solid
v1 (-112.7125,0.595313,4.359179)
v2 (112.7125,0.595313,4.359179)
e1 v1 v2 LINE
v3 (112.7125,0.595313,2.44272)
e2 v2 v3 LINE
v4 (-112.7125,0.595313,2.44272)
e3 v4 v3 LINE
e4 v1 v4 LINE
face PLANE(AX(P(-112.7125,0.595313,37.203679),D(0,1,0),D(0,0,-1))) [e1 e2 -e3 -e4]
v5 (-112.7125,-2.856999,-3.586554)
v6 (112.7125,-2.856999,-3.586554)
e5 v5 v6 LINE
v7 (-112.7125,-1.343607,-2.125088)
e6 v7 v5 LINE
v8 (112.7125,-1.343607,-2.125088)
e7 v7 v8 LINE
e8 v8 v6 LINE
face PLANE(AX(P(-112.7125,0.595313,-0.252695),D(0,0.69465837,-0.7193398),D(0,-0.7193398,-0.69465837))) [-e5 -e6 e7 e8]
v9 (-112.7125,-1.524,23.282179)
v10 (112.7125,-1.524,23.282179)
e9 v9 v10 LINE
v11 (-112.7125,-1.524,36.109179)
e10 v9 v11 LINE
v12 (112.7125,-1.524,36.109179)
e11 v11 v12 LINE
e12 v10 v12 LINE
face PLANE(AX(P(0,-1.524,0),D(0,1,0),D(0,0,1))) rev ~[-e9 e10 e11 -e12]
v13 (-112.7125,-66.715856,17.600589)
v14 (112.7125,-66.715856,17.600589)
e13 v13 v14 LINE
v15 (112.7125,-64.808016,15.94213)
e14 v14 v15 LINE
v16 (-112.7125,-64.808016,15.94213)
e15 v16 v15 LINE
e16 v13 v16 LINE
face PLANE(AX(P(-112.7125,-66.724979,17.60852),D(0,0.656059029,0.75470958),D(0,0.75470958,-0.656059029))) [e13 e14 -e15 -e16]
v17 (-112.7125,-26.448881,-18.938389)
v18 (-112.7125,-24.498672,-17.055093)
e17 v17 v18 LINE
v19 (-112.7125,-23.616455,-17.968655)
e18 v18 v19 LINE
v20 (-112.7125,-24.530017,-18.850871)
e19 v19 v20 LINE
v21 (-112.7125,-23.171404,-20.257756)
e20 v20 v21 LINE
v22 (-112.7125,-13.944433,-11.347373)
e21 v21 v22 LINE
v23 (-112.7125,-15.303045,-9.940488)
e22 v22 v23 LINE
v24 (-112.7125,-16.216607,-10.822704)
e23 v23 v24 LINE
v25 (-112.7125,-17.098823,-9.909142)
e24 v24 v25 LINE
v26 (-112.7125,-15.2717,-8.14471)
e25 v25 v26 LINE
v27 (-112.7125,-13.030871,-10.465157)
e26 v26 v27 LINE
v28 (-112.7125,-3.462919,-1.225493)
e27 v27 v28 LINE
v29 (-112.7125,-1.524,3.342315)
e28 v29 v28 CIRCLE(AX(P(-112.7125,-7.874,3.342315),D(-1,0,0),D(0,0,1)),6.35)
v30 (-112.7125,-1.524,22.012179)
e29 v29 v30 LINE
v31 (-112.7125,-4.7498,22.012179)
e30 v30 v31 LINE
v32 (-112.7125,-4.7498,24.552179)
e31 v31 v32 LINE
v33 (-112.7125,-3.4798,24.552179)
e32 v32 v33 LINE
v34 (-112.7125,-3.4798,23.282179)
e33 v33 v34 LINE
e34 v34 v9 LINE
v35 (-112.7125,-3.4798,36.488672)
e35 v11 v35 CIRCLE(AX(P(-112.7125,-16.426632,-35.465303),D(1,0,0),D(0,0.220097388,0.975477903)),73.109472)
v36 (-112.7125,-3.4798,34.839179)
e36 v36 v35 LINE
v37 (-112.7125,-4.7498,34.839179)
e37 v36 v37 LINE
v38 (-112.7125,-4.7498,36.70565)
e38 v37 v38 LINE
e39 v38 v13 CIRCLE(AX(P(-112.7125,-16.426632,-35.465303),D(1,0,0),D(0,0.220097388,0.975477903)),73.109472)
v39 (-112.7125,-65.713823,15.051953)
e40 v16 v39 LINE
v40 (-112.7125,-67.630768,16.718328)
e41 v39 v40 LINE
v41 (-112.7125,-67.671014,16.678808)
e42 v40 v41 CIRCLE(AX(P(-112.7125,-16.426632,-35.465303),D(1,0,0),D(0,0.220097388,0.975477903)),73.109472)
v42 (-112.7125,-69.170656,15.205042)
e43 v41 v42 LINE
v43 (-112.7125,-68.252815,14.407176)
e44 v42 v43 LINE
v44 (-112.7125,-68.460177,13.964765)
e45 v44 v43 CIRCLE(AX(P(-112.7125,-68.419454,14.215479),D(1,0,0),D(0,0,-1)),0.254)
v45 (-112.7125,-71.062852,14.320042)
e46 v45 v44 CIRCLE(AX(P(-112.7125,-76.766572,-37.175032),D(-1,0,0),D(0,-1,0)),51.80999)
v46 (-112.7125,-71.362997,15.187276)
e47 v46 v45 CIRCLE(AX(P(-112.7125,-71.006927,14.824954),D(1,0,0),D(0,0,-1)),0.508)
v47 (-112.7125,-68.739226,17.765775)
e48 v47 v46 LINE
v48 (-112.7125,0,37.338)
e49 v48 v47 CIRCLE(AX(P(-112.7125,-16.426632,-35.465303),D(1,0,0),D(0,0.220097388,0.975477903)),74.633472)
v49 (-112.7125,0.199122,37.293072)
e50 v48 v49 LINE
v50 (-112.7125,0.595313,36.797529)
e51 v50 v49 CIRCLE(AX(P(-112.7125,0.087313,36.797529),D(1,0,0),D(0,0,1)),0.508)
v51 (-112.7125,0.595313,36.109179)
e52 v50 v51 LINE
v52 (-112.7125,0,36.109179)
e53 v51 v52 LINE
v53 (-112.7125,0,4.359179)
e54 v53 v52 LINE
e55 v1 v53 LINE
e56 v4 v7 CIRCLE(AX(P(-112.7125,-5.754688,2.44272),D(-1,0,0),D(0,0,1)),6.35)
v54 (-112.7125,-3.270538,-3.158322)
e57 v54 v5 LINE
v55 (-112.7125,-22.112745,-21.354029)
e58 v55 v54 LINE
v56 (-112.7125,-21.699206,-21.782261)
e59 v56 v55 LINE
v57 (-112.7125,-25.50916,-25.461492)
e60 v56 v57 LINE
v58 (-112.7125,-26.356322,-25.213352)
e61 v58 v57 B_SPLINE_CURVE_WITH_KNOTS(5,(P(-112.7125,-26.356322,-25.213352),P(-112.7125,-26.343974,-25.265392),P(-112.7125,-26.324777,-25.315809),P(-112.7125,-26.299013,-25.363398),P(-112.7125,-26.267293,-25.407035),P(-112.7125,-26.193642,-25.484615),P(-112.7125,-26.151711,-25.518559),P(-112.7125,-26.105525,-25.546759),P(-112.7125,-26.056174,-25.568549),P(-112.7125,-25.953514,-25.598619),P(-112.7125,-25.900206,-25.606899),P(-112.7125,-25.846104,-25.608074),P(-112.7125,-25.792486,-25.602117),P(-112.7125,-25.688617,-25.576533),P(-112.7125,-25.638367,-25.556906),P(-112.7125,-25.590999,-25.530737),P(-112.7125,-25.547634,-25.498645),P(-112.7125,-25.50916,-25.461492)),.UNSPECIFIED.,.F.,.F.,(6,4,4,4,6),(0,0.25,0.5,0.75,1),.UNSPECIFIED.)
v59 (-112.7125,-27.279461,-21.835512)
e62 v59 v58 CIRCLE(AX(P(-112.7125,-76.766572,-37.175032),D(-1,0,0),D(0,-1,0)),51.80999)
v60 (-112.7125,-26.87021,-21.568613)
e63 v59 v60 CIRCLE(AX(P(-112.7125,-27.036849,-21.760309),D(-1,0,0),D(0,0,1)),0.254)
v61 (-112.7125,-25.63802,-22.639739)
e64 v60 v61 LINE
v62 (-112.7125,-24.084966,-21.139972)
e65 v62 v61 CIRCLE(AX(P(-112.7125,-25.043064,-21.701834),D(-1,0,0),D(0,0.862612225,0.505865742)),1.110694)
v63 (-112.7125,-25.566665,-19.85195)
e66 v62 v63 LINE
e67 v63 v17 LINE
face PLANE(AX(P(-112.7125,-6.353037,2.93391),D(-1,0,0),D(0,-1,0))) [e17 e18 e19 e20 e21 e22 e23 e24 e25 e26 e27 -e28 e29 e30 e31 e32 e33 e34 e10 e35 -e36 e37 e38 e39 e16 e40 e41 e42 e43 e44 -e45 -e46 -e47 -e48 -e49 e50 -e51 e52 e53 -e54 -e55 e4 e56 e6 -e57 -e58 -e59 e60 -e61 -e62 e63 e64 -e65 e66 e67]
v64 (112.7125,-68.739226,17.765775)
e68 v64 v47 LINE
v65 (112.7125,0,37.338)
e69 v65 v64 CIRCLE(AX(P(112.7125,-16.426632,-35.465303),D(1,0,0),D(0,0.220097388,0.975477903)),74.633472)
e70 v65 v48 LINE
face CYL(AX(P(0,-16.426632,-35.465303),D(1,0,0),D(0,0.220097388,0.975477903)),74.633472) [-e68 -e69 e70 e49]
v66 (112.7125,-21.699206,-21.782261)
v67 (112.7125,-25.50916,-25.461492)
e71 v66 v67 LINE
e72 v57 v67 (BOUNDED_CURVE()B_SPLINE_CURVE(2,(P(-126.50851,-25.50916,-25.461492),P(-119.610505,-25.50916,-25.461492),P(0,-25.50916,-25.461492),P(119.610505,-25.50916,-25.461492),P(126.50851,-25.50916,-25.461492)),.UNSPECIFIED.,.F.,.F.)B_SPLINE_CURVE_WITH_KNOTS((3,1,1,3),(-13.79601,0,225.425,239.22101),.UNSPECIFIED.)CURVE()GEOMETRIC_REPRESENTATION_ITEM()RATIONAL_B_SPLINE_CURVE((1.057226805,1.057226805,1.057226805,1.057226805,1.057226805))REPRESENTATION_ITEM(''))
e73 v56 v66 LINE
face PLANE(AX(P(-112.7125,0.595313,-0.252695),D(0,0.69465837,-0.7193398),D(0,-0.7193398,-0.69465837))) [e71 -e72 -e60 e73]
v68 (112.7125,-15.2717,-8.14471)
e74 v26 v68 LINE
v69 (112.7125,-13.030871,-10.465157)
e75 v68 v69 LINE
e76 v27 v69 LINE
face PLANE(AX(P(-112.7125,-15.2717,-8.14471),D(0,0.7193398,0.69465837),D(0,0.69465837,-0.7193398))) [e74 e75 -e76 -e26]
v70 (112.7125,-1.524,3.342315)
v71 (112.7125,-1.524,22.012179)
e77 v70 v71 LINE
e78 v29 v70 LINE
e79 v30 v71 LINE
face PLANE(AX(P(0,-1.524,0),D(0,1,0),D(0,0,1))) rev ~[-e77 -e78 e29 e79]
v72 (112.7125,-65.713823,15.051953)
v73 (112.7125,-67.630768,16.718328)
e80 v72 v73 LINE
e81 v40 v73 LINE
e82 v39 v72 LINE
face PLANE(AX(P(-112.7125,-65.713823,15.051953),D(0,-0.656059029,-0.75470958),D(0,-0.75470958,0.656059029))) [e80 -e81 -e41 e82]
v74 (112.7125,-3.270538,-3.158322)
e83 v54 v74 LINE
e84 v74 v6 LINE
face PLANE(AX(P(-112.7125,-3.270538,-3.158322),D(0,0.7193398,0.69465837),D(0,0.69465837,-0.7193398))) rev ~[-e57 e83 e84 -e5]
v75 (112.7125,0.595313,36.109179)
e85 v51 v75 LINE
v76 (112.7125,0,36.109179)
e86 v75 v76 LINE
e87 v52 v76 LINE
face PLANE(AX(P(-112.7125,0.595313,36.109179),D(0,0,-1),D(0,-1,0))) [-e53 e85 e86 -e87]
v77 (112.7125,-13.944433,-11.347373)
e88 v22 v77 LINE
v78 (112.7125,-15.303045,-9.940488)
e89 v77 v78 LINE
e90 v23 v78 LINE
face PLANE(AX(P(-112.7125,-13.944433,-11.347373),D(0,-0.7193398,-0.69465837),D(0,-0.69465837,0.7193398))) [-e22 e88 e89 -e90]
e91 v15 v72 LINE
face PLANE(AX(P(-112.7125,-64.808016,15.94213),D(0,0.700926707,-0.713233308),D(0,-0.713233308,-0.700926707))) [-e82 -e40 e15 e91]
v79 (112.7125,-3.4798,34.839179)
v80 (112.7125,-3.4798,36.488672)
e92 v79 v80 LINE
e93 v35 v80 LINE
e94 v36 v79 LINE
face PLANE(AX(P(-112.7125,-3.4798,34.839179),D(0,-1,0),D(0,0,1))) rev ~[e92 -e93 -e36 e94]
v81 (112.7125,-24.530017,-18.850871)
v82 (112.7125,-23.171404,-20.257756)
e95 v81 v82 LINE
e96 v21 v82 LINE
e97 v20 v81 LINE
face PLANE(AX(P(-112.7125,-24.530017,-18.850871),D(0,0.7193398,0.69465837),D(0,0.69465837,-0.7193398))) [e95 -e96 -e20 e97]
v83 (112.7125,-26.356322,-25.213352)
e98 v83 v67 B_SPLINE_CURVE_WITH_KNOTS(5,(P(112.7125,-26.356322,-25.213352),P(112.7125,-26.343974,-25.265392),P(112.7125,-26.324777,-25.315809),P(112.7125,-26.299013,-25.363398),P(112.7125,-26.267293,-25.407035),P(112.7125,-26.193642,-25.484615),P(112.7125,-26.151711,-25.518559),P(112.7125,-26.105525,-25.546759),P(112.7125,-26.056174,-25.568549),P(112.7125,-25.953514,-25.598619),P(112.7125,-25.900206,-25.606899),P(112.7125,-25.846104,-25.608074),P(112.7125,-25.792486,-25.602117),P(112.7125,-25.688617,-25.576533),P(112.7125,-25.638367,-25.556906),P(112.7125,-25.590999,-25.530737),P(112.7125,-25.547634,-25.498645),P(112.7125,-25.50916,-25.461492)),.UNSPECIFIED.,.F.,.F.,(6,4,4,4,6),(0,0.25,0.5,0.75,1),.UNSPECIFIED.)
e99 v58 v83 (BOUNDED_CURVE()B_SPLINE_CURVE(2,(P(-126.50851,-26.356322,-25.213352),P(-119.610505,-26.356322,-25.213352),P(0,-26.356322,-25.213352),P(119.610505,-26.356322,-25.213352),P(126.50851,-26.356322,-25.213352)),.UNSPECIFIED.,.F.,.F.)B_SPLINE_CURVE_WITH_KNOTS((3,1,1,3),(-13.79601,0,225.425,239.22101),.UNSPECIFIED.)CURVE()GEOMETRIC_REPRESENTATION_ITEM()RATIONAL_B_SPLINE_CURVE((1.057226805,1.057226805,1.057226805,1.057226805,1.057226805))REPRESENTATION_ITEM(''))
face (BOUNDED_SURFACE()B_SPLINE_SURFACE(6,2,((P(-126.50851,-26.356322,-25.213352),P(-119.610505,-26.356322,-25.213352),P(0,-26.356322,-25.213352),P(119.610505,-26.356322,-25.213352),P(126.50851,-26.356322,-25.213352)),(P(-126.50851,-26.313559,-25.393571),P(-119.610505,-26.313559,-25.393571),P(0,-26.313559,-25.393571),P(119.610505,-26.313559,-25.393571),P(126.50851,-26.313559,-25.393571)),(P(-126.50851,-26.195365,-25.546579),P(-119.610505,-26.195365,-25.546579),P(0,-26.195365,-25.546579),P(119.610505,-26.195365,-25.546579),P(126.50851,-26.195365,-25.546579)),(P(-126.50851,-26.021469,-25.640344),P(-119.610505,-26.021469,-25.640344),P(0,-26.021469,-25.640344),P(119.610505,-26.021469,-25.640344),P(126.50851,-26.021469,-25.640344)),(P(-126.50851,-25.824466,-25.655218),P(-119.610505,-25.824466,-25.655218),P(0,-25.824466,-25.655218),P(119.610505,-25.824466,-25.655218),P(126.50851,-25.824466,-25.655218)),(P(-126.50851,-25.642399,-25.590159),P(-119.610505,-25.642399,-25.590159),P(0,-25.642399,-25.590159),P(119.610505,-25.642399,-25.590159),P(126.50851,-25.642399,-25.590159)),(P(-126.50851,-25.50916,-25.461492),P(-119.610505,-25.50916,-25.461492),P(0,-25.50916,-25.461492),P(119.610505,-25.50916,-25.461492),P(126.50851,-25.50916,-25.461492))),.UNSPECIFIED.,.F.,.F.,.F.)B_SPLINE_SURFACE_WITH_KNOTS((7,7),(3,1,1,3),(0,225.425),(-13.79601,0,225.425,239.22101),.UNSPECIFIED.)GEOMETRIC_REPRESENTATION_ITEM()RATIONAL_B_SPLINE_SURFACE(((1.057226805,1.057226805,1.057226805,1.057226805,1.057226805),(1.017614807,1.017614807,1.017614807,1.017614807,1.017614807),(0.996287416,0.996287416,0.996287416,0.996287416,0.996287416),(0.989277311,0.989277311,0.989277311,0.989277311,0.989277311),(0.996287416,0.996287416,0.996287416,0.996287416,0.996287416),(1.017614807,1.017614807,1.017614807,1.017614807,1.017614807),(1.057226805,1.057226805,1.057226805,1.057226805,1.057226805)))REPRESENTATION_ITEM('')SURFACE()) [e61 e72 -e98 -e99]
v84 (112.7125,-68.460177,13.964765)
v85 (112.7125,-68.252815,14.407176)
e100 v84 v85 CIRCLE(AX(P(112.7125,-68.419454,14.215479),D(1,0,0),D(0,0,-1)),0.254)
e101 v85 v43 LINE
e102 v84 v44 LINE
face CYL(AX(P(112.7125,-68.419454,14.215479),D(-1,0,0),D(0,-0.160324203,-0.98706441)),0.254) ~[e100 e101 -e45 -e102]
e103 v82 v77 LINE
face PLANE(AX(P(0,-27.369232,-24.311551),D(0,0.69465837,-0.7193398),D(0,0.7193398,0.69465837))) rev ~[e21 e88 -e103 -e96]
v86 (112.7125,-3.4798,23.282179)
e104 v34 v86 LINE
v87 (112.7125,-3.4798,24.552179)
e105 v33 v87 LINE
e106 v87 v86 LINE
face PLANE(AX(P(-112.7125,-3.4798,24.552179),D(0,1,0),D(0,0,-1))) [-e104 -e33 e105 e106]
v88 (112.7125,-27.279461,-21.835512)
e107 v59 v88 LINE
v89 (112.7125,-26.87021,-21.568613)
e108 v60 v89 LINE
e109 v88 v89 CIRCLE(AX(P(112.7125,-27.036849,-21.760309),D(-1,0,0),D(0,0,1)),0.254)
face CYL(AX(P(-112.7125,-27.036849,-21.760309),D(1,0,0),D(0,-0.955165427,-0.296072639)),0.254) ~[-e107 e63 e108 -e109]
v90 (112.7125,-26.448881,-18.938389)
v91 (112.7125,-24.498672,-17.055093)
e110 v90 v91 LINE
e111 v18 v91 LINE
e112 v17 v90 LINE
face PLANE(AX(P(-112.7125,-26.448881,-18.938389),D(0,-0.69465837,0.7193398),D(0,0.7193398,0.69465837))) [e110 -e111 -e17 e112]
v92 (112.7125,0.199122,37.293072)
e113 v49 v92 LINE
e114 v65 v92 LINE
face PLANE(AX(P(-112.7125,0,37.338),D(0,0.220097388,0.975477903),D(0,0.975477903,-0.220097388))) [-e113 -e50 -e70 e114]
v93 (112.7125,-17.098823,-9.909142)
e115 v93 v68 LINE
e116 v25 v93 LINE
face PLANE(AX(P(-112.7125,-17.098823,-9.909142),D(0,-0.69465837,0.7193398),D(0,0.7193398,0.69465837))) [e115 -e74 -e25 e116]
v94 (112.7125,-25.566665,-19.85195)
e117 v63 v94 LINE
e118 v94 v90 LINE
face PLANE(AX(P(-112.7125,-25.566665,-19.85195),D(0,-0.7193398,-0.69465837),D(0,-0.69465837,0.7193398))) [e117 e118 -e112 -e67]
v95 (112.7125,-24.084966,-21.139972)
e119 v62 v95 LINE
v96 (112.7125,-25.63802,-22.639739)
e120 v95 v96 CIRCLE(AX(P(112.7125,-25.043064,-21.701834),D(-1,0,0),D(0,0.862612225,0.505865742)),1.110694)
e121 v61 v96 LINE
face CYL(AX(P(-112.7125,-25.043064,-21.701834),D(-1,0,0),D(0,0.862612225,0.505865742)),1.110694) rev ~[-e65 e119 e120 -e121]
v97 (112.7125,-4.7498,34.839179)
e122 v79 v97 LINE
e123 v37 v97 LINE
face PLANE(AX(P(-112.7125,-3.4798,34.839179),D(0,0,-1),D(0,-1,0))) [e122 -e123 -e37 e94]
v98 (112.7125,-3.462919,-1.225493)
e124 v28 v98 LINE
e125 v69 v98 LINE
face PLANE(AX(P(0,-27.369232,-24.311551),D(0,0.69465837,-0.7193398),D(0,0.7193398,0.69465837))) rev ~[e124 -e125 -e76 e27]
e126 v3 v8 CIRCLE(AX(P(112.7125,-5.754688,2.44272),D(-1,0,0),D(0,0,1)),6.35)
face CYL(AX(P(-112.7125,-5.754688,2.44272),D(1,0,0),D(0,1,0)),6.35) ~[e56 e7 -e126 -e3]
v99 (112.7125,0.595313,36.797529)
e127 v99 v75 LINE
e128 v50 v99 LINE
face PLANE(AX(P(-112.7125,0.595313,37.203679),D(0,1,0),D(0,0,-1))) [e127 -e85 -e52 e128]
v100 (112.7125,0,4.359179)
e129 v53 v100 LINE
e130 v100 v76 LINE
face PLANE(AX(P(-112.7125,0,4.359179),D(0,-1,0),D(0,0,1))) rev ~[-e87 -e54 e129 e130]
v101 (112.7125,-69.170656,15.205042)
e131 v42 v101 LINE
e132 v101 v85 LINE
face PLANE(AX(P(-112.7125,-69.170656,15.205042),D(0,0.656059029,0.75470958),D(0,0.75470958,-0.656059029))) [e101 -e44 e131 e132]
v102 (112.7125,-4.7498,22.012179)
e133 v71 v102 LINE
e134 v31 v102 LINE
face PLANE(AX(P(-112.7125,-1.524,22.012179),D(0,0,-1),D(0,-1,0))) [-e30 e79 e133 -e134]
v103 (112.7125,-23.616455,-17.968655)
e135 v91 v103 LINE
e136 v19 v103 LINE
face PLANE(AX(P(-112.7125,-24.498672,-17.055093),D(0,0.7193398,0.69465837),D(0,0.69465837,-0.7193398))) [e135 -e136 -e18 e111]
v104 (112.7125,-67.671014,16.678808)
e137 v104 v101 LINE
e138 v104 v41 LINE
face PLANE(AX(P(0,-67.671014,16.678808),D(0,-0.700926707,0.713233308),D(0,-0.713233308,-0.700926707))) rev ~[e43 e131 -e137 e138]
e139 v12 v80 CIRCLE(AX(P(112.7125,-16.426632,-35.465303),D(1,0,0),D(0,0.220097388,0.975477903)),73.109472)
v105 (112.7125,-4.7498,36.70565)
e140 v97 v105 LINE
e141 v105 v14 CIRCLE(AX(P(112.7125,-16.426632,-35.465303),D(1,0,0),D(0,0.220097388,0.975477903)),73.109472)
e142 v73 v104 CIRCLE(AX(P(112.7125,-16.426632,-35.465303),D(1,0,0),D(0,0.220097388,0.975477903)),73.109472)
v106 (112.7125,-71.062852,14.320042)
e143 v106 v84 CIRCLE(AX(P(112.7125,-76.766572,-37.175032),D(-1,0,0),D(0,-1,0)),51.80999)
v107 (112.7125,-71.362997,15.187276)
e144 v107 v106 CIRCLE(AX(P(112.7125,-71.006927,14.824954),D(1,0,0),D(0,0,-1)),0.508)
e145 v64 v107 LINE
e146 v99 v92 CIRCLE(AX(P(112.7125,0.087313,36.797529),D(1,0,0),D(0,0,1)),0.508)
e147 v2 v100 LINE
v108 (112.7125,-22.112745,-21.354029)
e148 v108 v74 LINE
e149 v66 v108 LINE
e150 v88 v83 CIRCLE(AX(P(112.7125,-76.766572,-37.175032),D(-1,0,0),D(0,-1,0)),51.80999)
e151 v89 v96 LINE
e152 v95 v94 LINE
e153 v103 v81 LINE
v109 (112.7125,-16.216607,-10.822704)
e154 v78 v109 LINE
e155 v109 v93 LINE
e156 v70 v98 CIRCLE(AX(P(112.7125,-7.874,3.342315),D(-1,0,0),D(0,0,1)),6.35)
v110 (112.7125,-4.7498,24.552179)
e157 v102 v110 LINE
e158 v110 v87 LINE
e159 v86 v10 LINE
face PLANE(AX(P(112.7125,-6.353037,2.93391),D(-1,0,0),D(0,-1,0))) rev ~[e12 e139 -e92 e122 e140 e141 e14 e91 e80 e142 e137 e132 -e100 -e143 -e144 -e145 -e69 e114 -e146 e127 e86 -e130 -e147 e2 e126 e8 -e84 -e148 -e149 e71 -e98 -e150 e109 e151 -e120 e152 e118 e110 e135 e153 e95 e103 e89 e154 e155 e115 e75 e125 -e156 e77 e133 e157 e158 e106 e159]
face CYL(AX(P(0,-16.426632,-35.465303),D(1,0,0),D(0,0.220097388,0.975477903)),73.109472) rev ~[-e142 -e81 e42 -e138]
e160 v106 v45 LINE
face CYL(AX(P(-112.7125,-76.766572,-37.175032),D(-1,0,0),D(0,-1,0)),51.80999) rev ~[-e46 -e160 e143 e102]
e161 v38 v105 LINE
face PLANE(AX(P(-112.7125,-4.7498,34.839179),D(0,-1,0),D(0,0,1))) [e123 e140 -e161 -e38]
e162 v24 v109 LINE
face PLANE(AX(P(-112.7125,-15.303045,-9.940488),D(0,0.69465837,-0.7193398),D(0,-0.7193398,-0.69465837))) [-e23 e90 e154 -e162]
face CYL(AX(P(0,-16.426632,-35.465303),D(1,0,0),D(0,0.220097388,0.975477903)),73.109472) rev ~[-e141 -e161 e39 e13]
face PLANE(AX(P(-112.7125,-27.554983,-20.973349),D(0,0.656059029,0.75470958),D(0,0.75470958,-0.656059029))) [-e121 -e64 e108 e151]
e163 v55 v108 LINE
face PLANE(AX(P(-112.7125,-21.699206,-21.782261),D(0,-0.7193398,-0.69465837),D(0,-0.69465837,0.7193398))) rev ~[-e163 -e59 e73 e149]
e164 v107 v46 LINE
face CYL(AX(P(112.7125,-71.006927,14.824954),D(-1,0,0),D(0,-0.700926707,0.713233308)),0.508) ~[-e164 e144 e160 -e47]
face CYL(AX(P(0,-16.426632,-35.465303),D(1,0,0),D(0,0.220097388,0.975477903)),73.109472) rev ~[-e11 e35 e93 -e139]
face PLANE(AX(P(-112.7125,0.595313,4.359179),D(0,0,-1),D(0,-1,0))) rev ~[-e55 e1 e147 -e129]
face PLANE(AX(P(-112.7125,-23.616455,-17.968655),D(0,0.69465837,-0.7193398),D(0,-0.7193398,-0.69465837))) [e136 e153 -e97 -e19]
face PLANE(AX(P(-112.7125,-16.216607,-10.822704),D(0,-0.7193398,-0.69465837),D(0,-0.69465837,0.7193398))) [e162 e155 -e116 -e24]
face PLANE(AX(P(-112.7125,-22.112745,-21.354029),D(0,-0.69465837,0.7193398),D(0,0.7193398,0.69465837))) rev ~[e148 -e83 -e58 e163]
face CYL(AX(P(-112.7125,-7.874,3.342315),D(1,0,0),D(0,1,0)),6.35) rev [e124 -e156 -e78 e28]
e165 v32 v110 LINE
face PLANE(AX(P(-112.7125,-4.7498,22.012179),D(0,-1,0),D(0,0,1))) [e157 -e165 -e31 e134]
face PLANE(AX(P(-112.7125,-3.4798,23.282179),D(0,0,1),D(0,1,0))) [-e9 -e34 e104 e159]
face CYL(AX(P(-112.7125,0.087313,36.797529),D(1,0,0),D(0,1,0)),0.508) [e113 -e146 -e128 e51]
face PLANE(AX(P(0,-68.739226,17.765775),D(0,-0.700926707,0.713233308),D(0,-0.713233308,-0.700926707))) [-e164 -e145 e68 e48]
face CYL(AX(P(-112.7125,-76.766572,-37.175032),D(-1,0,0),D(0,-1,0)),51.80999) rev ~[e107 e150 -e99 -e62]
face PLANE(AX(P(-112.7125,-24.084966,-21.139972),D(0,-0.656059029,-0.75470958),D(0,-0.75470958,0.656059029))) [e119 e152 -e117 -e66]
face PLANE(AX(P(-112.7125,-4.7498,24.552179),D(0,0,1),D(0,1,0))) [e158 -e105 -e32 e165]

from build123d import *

# Parameters (mm, degrees)
F1_DEPTH  = 112.7125
F2_T      = -1.524
F5_DEPTH  = 225.425
F7_DEPTH  = 225.425
F8_R      = 51.8099901909
F9_DEPTH  = 225.425
F14_W     = 1.27
F14_H     = 1.8664713708
F15_DEPTH = 225.425
F17_DEPTH = 225.425
F18_W     = 0.5953125
F18_H     = 31.75
F19_DEPTH = 225.425
F21_DEPTH = 225.425
F23_DEPTH = 225.425
F24_R     = 0.508
F25_R     = 6.35
F26_R     = 0.254


with BuildPart() as f1:
    # F0 (on Right) → F1 (new body, symmetric)
    with BuildSketch(Plane.YZ):
        with BuildLine():
            Line((-72.136, 14.4276117903), (-26.3105725372, -25.4078245579))
            Line((-26.3105725372, -25.4078245579), (0, 0))
            Line((0, 0), (0, 37.338))
            ThreePointArc((0, 37.338), (-36.8647965725, 36.3151722047), (-68.7392263709, 17.7657752319))
            Line((-68.7392263709, 17.7657752319), (-72.136, 14.4276117903))
        make_face()
    extrude(amount=F1_DEPTH, both=True)

    # F2
    f2_openings = [f1.faces().sort_by_distance(p)[0] for p in [
        (0, -49.223286, -5.490106),
        (-112.7125, -29.609995, 11.681685),
        (112.7125, -29.609995, 11.681685),
    ]]
    offset(amount=F2_T, openings=f2_openings)

    # F4 (on face) → F5 (join, through all)
    with BuildSketch(Plane(origin=(-112.7125, 0, 0), x_dir=(0, -1, 0), z_dir=(-1, 0, 0))):
        Polygon((69.0653059094, 11.7582981414), (70.9822682431, 13.424688075), (69.170655641, 15.2050419106), (67.2536933072, 13.5386519769), align=None)
    extrude(amount=-F5_DEPTH)

    # F6 (on face) → F7 (join, through all)
    with BuildSketch(Plane(origin=(-112.7125, 0, 0), x_dir=(0, -1, 0), z_dir=(-1, 0, 0))):
        Polygon((27.5549826692, -20.9733491998), (25.6380203354, -22.6397391335), (27.4651434283, -24.4041713944), (29.382105762, -22.7377814608), align=None)
    extrude(amount=-F7_DEPTH)

    # F8 (on face) → F9 (cut, through all)
    with BuildSketch(Plane(origin=(-112.7125, 0, 0), x_dir=(0, -1, 0), z_dir=(-1, 0, 0))):
        with Locations((76.7665722185, -37.1750323717)):
            Circle(F8_R)
    extrude(amount=-F9_DEPTH, mode=Mode.SUBTRACT)

    # F10 (on face) + F11 (on face) + F12 (on face) + F13 (on face) + F14 (on face) → F15 (join, through all)
    with BuildSketch(Plane(origin=(-112.7125, 0, 0), x_dir=(0, -1, 0), z_dir=(-1, 0, 0))):
        Polygon((23.17140416, -20.2577555812), (24.0849657065, -21.1399717116), (25.5666650167, -19.8519501518), (24.530017001, -18.8508707997), align=None)
    with BuildSketch(Plane(origin=(-112.7125, 0, 0), x_dir=(0, -1, 0), z_dir=(-1, 0, 0))):
        Polygon((23.6164554546, -17.9686546692), (25.5666650167, -19.8519501518), (26.4488811472, -18.9383886054), (24.498671585, -17.0550931227), align=None)
    with BuildSketch(Plane(origin=(-112.7125, 0, 0), x_dir=(0, -1, 0), z_dir=(-1, 0, 0))):
        Polygon((65.7138225954, 15.0519527371), (67.6307849291, 16.7183426707), (66.724978628, 17.6085195885), (64.8080162943, 15.9421296549), align=None)
    with BuildSketch(Plane(origin=(-112.7125, 0, 0), x_dir=(0, -1, 0), z_dir=(-1, 0, 0))):
        Polygon((13.0308709947, -10.4651565328), (13.9444325411, -11.3473726633), (15.303045382, -9.9404878818), (16.2166069285, -10.8227040123), (17.098823059, -9.9091424658), (15.2716999661, -8.1447102049), align=None)
    with BuildSketch(Plane(origin=(-112.7125, 0, 0), x_dir=(0, -1, 0), z_dir=(-1, 0, 0))):
        Polygon((1.524, 23.2821790422), (1.524, 22.0121790422), (4.7498, 22.0121790422), (4.7498, 24.5521790422), (3.4798, 24.5521790422), (3.4798, 23.2821790422), align=None)
        with Locations((4.1148, 35.7724147276)):
            Rectangle(F14_W, F14_H)
    extrude(amount=-F15_DEPTH)

    # F16 (on face) → F17 (join, through all)
    with BuildSketch(Plane(origin=(-112.7125, 0, 0), x_dir=(0, -1, 0), z_dir=(-1, 0, 0))):
        Polygon((-0.5953125, 37.2036794522), (-0.5953125, -0.252695164), (26.1530440412, -26.0832828204), (26.3105725372, -25.4078245579), (0, 0), (0, 37.338), align=None)
    extrude(amount=-F17_DEPTH)

    # F18 (on face) → F19 (cut, through all)
    with BuildSketch(Plane(origin=(-112.7125, 0, 0), x_dir=(0, -1, 0), z_dir=(-1, 0, 0))):
        with Locations((-0.29765625, 20.2341790422)):
            Rectangle(F18_W, F18_H)
    extrude(amount=-F19_DEPTH, mode=Mode.SUBTRACT)

    # F20 (on face) → F21 (cut, through all)
    with BuildSketch(Plane(origin=(-112.7125, 0, 0), x_dir=(0, -1, 0), z_dir=(-1, 0, 0))):
        Polygon((3.2705379083, -3.1583217457), (2.8569990972, -3.5865537206), (21.6992059923, -21.7822614118), (22.1127448035, -21.3540294369), align=None)
    extrude(amount=-F21_DEPTH, mode=Mode.SUBTRACT)

    # F22 (on face) → F23 (cut, through all)
    with BuildSketch(Plane(origin=(-112.7125, 0, 0), x_dir=(0, -1, 0), z_dir=(-1, 0, 0))):
        with BuildLine():
            Line((25.6380203354, -22.6397391335), (24.0849657065, -21.1399717116))
            ThreePointArc((24.0849657065, -21.1399717116), (24.2715109837, -22.5007997067), (25.6380203354, -22.6397391335))
        make_face()
    extrude(amount=-F23_DEPTH, mode=Mode.SUBTRACT)

    # F24
    f24_edges = [f1.edges().sort_by_distance(p)[0] for p in [
        (0, -72.136, 14.427612),
        (0, 0.595312, 37.203679),
        (0, -26.153044, -26.083283),
    ]]
    fillet(f24_edges, radius=F24_R)

    # F25
    f25_edges = [f1.edges().sort_by_distance(p)[0] for p in [
        (0, -1.524, 0.6469),
        (0, 0.595313, -0.252695),
    ]]
    fillet(f25_edges, radius=F25_R)

    # F26
    f26_edges = [f1.edges().sort_by_distance(p)[0] for p in [
        (0, -27.554983, -20.973349),
        (0, -67.567953, 13.811833),
    ]]
    fillet(f26_edges, radius=F26_R)


solid = f1.part
